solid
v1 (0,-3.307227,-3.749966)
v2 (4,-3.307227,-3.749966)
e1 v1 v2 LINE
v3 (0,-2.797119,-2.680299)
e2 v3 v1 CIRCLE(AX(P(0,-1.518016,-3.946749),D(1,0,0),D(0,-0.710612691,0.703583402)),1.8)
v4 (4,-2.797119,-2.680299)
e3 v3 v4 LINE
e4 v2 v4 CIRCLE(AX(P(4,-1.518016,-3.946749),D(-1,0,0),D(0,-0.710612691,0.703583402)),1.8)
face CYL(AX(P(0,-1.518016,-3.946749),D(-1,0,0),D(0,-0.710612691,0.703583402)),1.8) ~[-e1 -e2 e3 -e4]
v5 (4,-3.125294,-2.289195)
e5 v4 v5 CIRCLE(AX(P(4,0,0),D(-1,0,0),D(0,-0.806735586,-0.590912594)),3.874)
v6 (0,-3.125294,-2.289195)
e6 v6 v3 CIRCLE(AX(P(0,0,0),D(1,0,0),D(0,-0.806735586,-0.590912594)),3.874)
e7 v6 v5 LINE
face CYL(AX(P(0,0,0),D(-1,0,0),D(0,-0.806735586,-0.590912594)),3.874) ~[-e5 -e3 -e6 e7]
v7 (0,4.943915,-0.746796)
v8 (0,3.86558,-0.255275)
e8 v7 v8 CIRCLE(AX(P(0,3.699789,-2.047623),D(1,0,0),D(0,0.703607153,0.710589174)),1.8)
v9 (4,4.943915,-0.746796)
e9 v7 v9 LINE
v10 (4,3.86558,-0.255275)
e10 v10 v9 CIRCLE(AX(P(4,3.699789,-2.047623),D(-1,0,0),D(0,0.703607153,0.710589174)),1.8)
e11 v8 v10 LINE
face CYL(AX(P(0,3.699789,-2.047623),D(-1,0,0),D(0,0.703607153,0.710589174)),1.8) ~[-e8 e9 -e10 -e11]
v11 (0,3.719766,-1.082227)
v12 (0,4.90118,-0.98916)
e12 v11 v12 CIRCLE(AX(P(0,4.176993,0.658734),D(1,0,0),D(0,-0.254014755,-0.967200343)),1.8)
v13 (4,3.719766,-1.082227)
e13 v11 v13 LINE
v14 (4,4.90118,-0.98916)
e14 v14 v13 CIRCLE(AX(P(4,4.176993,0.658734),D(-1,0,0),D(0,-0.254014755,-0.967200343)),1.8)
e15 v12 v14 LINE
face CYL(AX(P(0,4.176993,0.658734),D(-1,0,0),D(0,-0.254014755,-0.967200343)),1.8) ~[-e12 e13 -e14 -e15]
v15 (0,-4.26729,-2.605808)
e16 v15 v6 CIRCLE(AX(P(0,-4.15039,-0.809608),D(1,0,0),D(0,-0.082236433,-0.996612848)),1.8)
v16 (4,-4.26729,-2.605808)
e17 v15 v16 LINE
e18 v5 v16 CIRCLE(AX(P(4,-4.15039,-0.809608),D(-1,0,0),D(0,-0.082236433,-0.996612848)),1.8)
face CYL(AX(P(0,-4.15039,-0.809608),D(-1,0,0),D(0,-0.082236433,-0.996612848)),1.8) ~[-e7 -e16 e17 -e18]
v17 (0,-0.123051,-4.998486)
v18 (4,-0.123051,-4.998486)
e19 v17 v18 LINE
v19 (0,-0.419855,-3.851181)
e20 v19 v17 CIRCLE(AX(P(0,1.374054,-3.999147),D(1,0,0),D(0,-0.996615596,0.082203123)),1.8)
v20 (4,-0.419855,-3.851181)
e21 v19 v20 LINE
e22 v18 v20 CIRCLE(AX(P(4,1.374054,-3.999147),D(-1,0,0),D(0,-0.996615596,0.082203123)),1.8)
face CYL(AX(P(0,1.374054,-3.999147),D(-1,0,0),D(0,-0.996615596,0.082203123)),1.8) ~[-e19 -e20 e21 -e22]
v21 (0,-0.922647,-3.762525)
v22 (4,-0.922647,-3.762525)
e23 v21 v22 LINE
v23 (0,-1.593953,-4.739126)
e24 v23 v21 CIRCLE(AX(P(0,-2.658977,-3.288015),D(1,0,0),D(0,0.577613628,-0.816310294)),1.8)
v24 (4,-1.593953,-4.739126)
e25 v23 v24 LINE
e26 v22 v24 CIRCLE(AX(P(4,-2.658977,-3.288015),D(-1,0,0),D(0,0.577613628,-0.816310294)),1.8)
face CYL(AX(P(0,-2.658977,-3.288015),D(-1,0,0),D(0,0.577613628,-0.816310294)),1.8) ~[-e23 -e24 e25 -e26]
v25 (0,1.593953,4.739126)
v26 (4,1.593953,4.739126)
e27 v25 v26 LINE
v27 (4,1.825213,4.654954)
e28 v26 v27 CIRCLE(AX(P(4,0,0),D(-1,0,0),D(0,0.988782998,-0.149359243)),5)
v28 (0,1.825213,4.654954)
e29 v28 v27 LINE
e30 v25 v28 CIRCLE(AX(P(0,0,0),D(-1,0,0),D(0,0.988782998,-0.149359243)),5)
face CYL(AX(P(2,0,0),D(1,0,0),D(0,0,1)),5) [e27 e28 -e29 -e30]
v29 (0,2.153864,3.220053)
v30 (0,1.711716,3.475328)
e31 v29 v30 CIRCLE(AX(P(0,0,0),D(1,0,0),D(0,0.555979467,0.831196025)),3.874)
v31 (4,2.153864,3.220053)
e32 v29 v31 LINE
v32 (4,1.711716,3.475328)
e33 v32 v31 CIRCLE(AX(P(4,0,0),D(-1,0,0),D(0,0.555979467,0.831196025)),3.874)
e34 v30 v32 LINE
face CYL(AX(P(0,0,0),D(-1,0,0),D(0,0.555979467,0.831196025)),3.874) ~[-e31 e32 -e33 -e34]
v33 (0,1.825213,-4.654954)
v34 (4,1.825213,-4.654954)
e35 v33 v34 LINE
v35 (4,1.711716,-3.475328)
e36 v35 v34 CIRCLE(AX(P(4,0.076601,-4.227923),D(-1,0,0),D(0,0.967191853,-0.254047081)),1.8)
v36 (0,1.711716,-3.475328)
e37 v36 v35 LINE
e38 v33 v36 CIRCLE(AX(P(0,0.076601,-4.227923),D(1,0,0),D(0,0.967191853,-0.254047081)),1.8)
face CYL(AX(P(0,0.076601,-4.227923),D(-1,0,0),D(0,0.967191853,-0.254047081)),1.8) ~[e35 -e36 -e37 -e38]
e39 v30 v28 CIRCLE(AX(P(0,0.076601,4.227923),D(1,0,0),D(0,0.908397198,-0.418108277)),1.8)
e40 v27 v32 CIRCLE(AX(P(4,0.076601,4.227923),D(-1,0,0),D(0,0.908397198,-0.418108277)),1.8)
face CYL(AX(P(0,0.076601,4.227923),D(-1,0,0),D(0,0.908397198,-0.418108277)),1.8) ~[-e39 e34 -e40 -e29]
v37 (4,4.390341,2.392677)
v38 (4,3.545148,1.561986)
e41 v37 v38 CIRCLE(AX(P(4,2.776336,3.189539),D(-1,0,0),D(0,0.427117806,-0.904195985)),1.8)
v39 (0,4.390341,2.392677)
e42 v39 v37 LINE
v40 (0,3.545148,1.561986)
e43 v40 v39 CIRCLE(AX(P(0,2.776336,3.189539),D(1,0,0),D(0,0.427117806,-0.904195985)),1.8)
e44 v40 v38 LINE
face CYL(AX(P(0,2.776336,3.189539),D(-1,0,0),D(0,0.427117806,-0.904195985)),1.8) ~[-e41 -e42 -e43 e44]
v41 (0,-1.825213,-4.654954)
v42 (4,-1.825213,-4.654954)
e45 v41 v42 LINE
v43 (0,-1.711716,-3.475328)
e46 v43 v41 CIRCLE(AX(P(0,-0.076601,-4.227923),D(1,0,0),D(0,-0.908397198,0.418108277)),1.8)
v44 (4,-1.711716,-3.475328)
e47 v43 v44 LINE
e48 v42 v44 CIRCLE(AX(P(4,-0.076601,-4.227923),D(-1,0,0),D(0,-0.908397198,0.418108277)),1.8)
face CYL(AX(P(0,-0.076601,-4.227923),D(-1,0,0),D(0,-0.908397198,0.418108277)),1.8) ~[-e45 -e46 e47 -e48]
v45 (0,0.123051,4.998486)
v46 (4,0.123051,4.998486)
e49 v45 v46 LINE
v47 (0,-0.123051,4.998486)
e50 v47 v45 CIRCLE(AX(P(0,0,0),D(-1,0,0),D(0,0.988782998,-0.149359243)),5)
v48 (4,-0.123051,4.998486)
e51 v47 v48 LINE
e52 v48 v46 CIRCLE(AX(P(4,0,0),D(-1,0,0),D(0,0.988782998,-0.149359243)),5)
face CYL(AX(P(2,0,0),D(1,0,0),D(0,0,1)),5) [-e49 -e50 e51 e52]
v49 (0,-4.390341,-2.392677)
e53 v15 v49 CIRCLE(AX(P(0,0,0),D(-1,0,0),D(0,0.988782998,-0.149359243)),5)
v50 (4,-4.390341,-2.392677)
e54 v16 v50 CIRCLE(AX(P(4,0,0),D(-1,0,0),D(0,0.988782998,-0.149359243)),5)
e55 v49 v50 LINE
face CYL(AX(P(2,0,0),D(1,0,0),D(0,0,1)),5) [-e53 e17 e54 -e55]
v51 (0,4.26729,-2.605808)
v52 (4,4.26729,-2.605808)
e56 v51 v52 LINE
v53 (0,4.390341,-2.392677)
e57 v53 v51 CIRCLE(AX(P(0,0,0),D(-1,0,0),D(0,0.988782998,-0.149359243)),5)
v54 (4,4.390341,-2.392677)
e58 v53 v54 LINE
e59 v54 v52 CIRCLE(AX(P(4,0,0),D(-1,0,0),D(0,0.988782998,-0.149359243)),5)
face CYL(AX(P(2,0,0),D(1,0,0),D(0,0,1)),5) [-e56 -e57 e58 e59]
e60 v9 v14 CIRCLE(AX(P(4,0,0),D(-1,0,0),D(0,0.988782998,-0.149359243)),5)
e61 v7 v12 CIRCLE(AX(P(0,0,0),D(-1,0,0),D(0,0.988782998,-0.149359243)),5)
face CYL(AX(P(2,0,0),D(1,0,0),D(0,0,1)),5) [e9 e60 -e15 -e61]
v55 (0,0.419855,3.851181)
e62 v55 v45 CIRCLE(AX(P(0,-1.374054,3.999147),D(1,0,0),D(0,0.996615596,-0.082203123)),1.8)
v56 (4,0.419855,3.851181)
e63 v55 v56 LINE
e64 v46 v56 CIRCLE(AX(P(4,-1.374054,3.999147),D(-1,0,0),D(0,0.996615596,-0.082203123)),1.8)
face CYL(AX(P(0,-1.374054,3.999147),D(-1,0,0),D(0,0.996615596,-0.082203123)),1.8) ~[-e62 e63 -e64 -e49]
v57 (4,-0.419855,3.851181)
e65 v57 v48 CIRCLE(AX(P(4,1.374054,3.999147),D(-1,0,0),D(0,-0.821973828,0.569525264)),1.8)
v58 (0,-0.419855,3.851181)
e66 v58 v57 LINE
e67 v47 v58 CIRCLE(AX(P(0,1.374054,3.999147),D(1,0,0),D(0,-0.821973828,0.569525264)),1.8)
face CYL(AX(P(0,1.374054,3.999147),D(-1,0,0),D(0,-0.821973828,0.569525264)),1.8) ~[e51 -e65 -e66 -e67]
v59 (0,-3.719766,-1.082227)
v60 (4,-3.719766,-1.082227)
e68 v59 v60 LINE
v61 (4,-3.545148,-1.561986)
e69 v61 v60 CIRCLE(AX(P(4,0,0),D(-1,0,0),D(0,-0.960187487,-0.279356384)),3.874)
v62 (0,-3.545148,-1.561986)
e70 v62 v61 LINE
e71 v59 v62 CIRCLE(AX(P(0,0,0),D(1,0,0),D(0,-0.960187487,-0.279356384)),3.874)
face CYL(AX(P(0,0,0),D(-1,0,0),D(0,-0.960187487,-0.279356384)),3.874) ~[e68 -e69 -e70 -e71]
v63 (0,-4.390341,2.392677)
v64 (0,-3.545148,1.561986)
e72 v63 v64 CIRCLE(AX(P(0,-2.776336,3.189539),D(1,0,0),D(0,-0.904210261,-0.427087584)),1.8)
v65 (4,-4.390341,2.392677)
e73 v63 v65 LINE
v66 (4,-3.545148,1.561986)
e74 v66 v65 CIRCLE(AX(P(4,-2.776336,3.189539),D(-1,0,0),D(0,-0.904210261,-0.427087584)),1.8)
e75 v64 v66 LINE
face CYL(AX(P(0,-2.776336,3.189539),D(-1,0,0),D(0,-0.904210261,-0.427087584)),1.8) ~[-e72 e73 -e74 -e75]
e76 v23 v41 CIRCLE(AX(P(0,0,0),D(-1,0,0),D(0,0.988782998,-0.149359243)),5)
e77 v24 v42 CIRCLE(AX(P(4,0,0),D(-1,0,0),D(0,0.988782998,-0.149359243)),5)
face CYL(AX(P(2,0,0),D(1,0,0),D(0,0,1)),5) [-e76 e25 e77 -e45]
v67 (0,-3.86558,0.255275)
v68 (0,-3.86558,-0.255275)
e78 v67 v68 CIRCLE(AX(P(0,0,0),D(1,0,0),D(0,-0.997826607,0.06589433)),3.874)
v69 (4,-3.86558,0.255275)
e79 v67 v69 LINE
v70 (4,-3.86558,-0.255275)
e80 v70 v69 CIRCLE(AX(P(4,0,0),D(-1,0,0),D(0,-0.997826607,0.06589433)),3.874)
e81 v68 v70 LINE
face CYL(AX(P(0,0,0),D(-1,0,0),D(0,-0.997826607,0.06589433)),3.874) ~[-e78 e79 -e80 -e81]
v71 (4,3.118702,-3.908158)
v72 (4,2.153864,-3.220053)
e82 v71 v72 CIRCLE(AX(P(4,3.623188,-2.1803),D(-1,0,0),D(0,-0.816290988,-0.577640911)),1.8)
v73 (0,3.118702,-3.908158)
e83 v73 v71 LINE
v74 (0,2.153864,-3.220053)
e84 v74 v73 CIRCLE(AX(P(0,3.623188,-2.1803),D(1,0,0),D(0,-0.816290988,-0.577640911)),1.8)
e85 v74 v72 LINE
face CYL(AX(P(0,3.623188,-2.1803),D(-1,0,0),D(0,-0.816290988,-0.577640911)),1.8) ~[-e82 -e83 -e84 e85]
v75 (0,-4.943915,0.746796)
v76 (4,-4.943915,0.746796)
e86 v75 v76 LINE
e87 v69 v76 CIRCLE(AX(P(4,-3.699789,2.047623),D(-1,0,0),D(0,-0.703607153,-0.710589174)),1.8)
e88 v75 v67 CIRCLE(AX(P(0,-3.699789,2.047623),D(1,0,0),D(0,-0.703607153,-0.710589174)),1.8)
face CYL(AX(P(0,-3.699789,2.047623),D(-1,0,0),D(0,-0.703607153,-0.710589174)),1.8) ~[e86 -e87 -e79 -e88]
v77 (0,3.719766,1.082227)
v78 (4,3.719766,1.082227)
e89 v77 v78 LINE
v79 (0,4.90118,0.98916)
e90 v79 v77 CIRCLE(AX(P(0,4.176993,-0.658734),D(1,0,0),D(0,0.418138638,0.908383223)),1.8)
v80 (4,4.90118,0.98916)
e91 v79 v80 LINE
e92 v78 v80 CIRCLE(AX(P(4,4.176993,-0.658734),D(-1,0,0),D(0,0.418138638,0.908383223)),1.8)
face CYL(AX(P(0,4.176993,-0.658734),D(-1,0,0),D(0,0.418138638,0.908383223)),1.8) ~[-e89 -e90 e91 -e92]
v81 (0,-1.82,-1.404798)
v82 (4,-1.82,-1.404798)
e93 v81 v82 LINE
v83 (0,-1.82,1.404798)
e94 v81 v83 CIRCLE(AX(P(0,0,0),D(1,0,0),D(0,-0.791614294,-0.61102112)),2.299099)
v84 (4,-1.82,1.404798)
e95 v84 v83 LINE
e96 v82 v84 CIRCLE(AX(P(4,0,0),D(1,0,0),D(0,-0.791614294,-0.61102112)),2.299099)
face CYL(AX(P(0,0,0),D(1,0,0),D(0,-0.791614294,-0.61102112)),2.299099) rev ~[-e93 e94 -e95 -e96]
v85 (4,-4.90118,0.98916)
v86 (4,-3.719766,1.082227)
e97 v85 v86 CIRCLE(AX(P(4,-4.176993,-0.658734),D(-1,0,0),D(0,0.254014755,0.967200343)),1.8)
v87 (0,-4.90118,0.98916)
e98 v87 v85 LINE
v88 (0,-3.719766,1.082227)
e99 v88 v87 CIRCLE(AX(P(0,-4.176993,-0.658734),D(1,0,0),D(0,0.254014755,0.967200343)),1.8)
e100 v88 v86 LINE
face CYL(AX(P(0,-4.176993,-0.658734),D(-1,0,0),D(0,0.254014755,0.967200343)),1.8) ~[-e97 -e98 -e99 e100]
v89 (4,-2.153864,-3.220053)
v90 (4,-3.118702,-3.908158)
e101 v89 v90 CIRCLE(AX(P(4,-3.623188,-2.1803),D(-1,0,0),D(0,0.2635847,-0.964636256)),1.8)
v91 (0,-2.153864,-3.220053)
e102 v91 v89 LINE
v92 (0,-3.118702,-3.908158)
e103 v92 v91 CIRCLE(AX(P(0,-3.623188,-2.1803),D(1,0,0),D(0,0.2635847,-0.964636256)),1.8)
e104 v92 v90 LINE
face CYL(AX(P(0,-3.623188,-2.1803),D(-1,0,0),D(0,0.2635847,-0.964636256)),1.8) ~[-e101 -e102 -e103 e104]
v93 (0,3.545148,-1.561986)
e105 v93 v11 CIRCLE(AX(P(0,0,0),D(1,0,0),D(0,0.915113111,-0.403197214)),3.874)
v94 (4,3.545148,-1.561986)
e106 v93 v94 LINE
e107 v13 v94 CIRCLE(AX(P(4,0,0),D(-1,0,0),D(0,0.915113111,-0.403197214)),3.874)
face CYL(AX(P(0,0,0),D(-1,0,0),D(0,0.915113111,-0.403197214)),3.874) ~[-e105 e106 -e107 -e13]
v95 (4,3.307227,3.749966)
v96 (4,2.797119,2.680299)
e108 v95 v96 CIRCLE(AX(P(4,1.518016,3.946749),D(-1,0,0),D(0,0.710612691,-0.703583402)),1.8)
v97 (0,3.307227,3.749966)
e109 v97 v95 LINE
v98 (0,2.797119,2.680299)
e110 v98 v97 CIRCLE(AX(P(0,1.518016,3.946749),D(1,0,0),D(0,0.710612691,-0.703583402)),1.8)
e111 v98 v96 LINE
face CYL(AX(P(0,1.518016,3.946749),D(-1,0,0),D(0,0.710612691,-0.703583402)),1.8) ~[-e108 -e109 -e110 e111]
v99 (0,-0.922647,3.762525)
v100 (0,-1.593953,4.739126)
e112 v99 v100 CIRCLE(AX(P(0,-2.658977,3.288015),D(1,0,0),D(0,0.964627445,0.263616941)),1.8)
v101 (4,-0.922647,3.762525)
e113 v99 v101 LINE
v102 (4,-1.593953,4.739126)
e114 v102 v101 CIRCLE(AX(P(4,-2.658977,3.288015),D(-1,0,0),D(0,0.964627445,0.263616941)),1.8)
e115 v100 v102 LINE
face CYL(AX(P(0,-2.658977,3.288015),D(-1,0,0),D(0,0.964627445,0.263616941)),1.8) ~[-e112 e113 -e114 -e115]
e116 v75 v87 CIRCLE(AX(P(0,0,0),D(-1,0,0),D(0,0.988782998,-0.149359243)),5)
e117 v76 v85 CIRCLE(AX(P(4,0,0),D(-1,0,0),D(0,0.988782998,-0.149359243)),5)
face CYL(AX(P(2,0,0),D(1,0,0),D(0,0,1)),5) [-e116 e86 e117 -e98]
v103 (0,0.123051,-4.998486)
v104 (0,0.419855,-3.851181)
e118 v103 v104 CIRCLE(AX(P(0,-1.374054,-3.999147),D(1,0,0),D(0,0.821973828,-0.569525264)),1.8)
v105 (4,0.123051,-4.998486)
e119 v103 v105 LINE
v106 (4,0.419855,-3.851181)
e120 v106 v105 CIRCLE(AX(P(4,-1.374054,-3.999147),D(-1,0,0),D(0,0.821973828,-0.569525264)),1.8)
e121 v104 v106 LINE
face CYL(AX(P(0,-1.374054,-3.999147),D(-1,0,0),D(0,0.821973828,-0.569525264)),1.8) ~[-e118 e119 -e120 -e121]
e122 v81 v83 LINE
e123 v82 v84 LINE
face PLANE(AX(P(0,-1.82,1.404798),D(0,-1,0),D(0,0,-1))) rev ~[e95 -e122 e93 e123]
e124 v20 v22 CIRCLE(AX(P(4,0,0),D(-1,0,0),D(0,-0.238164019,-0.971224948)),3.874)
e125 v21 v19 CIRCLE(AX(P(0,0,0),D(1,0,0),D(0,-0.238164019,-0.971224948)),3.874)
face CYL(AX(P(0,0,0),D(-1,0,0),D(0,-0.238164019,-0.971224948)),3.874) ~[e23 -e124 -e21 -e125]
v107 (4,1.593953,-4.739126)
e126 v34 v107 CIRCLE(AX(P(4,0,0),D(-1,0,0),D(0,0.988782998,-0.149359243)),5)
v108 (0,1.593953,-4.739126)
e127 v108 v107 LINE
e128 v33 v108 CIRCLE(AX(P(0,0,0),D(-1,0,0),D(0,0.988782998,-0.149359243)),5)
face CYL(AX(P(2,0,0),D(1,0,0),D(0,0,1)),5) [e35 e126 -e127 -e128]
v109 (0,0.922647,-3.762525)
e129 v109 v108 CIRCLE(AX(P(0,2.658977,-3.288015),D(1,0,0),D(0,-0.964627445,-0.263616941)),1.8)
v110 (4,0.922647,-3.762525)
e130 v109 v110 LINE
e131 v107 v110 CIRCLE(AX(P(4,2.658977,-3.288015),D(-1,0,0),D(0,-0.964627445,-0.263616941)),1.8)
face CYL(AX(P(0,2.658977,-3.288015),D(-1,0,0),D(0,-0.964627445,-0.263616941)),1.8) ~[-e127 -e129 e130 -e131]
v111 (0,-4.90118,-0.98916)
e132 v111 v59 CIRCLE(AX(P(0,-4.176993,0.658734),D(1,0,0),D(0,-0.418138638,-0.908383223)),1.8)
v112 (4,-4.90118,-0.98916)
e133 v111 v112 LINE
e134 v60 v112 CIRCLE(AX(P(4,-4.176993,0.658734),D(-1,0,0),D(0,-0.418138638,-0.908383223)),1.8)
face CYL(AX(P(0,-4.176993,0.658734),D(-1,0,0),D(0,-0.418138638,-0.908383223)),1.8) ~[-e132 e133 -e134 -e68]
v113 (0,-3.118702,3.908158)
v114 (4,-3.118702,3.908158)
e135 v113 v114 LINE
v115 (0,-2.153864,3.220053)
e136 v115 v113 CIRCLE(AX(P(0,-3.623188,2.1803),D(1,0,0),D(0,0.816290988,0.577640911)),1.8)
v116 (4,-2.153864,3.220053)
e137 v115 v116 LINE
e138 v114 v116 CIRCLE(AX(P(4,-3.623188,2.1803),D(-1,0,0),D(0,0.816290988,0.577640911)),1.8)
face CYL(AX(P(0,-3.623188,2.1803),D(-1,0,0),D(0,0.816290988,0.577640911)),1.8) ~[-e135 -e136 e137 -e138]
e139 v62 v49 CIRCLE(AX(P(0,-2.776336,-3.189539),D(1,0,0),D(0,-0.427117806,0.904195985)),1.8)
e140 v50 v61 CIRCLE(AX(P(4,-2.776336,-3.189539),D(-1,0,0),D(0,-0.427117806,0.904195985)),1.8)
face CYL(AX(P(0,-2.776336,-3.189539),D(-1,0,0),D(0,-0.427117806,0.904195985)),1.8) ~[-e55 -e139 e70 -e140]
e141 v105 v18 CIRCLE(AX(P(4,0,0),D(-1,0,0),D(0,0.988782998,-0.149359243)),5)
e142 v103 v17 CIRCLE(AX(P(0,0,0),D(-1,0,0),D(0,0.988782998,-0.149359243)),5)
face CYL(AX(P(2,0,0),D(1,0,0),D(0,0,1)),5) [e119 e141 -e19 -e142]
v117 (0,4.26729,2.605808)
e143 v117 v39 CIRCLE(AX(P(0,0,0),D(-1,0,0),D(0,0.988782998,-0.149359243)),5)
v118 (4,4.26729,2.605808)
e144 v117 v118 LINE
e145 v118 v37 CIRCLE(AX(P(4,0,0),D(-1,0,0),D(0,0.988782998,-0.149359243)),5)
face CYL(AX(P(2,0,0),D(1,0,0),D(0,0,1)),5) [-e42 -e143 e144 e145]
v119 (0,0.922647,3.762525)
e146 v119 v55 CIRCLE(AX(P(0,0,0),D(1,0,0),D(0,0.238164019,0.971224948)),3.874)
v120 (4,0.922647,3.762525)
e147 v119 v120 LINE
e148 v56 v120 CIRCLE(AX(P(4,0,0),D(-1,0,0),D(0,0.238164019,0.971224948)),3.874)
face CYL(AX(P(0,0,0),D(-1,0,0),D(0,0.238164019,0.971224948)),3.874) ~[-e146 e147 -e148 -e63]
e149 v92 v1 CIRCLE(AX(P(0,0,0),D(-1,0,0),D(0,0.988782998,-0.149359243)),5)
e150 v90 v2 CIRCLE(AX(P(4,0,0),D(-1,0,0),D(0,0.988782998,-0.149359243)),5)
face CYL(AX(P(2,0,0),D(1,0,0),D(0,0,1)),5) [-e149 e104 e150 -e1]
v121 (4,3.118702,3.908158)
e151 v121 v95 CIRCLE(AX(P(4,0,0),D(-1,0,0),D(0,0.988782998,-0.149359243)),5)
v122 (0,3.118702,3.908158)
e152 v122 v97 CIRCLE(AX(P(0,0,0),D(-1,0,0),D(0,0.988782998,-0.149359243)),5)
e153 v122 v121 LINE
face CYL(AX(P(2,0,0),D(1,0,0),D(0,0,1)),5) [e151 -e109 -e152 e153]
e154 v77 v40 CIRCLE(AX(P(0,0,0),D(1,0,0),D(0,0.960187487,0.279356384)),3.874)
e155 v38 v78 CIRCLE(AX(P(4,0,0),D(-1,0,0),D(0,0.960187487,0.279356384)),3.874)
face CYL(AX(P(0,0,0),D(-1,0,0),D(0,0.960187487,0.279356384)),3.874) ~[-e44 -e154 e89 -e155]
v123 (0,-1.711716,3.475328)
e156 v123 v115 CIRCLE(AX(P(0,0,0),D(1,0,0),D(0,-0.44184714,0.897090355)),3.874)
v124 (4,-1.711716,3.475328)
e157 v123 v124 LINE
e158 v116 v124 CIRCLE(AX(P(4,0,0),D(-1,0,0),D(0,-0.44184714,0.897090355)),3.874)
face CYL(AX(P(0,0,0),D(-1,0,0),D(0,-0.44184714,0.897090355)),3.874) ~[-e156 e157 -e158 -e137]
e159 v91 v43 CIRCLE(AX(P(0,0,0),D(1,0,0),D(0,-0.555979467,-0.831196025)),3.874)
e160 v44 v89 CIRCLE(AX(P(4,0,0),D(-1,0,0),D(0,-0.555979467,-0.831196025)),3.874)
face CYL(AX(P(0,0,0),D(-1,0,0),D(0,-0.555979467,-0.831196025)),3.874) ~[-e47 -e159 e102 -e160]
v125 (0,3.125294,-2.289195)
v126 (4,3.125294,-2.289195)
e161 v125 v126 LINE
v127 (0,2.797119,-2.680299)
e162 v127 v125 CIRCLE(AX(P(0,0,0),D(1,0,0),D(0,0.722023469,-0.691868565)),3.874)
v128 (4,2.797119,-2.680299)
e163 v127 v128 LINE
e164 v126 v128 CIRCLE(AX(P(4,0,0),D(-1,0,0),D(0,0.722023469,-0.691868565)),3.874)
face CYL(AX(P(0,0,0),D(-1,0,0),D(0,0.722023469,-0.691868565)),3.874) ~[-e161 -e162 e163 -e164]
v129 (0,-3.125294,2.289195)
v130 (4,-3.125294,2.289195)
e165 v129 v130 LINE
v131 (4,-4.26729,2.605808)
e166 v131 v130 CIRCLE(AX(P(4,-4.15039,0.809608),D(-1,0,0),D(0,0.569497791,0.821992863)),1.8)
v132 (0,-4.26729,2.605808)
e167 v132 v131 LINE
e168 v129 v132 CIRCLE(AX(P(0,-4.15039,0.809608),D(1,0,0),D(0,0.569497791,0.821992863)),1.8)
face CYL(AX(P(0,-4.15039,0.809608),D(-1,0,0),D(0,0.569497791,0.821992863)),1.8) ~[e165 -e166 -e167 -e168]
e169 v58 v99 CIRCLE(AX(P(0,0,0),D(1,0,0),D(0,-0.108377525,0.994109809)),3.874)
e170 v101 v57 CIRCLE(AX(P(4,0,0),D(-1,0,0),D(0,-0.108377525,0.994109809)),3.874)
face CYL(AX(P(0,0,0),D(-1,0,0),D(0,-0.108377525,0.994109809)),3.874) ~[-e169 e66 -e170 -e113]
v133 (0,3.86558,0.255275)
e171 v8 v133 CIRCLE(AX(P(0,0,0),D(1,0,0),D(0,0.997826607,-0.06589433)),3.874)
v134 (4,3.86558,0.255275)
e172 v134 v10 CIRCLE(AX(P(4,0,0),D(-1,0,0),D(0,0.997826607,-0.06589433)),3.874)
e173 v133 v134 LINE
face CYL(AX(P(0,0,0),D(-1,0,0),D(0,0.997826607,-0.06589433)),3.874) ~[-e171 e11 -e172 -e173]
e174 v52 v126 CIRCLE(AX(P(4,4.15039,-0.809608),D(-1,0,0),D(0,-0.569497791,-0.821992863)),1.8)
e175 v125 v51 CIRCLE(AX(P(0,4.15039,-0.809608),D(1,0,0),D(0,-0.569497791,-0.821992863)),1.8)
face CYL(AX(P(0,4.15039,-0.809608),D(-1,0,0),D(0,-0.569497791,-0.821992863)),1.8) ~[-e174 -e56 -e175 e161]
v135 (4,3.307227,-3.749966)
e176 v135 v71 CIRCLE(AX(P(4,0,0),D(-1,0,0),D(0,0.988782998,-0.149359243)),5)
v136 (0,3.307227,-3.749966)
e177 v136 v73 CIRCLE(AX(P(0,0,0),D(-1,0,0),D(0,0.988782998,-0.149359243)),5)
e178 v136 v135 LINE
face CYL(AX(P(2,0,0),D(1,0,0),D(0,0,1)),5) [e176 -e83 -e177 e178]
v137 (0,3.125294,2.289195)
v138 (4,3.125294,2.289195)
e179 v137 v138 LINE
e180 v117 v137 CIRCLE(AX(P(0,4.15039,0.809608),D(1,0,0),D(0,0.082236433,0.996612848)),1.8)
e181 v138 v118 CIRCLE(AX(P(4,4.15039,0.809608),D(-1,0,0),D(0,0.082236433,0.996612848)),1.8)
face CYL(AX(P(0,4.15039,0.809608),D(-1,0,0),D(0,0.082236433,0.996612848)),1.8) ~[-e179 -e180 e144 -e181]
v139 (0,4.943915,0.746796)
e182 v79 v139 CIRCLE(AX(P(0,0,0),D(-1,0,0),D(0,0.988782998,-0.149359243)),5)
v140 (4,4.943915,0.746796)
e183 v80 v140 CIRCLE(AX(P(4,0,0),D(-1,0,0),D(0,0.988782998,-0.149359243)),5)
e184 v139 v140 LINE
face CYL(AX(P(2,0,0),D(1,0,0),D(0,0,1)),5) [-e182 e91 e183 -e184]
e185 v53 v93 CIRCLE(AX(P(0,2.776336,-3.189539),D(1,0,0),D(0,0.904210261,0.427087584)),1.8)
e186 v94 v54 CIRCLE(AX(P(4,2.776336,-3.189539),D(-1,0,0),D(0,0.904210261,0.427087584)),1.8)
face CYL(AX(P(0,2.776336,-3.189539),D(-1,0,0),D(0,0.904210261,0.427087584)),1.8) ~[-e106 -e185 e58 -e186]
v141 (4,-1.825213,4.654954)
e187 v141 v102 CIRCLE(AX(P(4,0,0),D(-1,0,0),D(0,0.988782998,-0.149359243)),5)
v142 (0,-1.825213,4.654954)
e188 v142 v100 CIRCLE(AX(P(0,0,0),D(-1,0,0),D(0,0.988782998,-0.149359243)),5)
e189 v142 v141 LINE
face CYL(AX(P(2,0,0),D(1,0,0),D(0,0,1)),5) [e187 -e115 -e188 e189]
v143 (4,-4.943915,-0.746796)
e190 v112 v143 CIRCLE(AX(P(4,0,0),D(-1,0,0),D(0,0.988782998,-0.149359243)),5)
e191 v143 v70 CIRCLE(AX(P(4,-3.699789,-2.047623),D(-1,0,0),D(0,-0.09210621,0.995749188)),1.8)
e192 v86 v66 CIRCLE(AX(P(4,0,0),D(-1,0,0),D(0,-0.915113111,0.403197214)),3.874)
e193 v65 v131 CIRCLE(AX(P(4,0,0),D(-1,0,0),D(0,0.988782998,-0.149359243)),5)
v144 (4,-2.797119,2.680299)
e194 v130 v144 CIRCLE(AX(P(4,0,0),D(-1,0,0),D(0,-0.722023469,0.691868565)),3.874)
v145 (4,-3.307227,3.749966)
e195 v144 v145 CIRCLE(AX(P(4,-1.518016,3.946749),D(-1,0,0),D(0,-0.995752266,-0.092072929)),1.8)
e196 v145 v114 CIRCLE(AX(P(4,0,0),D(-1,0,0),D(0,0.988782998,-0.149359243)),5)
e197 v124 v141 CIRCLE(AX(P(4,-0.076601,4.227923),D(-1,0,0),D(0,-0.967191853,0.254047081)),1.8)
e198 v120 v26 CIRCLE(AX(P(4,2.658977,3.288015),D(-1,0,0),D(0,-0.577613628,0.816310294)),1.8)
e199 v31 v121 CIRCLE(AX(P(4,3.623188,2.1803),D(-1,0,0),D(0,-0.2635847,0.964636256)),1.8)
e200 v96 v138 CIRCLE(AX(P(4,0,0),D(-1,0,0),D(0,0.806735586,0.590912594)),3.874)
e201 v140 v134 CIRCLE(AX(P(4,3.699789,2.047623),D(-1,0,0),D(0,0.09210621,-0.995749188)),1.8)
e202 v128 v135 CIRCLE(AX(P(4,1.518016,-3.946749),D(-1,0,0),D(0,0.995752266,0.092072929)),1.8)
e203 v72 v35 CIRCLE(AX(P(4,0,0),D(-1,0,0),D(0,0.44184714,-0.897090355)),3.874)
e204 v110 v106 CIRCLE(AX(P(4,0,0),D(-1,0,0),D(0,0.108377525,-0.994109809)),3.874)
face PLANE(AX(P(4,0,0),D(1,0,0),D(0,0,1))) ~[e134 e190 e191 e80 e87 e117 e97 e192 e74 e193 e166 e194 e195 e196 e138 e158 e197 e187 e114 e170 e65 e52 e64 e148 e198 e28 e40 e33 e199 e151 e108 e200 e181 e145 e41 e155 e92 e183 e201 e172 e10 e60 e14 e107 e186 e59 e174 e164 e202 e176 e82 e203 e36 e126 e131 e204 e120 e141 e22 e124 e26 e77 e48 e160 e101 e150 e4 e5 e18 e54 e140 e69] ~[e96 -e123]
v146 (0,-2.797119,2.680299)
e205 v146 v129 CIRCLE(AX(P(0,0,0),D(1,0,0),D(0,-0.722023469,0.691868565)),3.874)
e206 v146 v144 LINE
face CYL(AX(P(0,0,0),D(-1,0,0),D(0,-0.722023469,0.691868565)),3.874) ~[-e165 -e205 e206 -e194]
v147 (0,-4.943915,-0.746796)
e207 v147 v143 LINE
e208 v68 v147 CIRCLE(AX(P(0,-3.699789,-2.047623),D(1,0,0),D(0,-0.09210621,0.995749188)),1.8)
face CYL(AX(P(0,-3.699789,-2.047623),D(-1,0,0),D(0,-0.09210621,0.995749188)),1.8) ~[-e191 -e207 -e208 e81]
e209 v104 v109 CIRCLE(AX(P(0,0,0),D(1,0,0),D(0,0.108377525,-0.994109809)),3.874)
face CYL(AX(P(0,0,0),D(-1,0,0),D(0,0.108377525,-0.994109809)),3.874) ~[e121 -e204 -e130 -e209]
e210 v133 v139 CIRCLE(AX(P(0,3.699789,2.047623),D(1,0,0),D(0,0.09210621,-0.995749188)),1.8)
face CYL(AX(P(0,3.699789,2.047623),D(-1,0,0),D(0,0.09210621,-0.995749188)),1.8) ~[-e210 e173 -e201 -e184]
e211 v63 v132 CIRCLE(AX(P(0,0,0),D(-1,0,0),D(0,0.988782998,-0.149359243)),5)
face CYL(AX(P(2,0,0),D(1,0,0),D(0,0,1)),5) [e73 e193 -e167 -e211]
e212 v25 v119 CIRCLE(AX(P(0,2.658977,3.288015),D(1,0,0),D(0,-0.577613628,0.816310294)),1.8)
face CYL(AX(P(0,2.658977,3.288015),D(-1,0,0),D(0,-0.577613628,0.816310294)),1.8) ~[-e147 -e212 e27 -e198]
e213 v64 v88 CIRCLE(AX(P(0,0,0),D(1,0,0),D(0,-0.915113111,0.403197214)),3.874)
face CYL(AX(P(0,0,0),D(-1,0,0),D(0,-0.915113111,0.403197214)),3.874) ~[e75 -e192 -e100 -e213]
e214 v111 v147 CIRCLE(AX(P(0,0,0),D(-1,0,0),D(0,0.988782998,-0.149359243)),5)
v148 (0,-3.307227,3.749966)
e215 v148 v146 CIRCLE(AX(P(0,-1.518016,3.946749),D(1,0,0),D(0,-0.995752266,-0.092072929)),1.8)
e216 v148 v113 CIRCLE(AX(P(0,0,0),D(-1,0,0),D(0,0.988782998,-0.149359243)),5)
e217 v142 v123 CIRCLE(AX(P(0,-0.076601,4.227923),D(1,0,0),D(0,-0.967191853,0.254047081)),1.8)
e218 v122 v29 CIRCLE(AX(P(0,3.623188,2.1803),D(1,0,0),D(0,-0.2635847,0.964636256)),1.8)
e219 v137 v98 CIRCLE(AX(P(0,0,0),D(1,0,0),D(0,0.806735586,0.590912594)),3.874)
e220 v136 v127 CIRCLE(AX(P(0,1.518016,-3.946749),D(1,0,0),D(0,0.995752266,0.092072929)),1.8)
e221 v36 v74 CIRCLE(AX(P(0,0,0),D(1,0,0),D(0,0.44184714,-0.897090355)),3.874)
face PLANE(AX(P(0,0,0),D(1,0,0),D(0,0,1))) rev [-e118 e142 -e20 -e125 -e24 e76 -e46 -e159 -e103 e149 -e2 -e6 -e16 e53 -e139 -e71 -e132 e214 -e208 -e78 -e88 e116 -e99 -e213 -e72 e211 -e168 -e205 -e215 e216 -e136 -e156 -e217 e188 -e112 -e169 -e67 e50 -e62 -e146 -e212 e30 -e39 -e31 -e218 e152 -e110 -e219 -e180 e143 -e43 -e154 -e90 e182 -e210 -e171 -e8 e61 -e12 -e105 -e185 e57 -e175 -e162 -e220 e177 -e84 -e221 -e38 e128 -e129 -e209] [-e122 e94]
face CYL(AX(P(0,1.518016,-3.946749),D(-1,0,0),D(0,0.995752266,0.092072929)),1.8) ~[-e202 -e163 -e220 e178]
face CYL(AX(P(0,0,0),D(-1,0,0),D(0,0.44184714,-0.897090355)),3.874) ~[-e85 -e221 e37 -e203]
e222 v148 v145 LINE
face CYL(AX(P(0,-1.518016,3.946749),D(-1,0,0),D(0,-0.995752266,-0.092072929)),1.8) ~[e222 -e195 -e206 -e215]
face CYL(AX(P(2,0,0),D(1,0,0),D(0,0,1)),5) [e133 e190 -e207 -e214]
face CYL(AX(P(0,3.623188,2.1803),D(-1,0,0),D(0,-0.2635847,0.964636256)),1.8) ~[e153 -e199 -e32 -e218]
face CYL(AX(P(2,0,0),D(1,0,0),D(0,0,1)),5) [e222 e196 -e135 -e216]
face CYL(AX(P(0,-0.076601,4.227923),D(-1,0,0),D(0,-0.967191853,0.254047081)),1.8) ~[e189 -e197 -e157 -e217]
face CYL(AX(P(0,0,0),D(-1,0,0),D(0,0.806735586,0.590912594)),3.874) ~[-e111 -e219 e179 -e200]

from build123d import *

# Parameters (mm, degrees)
BASPROSKE_W     = 4
BASPROSKE_H     = 5
TOOTHCUT_DEPTH  = 9.124038405
TEETHCUTS_COUNT = 18
TEETHCUTS_ANGLE = 340
BORE_DEPTH      = 50.0000508


with BuildPart() as part:
    # BasProSke → Base-Revolve (revolve)
    with BuildSketch(Plane(origin=(0, 0, 0), x_dir=(1, 0, 0), z_dir=(0, 1, 0)), mode=Mode.PRIVATE) as base_revolve_sk:
        with Locations((2, 2.5)):
            Rectangle(BASPROSKE_W, BASPROSKE_H)
    revolve(base_revolve_sk.sketch.rotate(Axis((-10, 0, 0), (1, 0, 0)), 180), axis=Axis((-10, 0, 0), (1, 0, 0)))

    # TooCutSke → ToothCut (cut, through all)
    with BuildSketch(Plane(origin=(0, 0, 0), x_dir=(0, 0, -1), z_dir=(1, 0, 0))):
        with BuildLine():
            ThreePointArc((0.25527463, 3.865580275), (0, 3.874), (-0.25527463, 3.865580275))
            ThreePointArc((-0.25527463, 3.865580275), (-0.416281865, 4.46052923), (-0.768562654, 4.96628197))
            ThreePointArc((-0.768562654, 4.96628197), (0, 5.0254), (0.768562654, 4.96628197))
            ThreePointArc((0.768562654, 4.96628197), (0.416281865, 4.46052923), (0.25527463, 3.865580275))
        make_face()
    toothcut = extrude(amount=TOOTHCUT_DEPTH, mode=Mode.SUBTRACT)

    # TeethCuts: ToothCut ×18 about axis
    teethcuts_axis = Axis((-10, 0, 0), (1, 0, 0))
    for i in range(1, TEETHCUTS_COUNT):
        add(toothcut.rotate(teethcuts_axis, i * TEETHCUTS_ANGLE / (TEETHCUTS_COUNT - 1)), mode=Mode.SUBTRACT)

    # BorSke → Bore (cut, symmetric)
    with BuildSketch(Plane(origin=(0, 0, 0), x_dir=(0, 0, -1), z_dir=(1, 0, 0))):
        with BuildLine():
            Line((-1.40479833, -1.82), (1.40479833, -1.82))
            ThreePointArc((1.40479833, -1.82), (0, 2.299099464), (-1.40479833, -1.82))
        make_face()
    extrude(amount=BORE_DEPTH, both=True, mode=Mode.SUBTRACT)


solid = part.part
